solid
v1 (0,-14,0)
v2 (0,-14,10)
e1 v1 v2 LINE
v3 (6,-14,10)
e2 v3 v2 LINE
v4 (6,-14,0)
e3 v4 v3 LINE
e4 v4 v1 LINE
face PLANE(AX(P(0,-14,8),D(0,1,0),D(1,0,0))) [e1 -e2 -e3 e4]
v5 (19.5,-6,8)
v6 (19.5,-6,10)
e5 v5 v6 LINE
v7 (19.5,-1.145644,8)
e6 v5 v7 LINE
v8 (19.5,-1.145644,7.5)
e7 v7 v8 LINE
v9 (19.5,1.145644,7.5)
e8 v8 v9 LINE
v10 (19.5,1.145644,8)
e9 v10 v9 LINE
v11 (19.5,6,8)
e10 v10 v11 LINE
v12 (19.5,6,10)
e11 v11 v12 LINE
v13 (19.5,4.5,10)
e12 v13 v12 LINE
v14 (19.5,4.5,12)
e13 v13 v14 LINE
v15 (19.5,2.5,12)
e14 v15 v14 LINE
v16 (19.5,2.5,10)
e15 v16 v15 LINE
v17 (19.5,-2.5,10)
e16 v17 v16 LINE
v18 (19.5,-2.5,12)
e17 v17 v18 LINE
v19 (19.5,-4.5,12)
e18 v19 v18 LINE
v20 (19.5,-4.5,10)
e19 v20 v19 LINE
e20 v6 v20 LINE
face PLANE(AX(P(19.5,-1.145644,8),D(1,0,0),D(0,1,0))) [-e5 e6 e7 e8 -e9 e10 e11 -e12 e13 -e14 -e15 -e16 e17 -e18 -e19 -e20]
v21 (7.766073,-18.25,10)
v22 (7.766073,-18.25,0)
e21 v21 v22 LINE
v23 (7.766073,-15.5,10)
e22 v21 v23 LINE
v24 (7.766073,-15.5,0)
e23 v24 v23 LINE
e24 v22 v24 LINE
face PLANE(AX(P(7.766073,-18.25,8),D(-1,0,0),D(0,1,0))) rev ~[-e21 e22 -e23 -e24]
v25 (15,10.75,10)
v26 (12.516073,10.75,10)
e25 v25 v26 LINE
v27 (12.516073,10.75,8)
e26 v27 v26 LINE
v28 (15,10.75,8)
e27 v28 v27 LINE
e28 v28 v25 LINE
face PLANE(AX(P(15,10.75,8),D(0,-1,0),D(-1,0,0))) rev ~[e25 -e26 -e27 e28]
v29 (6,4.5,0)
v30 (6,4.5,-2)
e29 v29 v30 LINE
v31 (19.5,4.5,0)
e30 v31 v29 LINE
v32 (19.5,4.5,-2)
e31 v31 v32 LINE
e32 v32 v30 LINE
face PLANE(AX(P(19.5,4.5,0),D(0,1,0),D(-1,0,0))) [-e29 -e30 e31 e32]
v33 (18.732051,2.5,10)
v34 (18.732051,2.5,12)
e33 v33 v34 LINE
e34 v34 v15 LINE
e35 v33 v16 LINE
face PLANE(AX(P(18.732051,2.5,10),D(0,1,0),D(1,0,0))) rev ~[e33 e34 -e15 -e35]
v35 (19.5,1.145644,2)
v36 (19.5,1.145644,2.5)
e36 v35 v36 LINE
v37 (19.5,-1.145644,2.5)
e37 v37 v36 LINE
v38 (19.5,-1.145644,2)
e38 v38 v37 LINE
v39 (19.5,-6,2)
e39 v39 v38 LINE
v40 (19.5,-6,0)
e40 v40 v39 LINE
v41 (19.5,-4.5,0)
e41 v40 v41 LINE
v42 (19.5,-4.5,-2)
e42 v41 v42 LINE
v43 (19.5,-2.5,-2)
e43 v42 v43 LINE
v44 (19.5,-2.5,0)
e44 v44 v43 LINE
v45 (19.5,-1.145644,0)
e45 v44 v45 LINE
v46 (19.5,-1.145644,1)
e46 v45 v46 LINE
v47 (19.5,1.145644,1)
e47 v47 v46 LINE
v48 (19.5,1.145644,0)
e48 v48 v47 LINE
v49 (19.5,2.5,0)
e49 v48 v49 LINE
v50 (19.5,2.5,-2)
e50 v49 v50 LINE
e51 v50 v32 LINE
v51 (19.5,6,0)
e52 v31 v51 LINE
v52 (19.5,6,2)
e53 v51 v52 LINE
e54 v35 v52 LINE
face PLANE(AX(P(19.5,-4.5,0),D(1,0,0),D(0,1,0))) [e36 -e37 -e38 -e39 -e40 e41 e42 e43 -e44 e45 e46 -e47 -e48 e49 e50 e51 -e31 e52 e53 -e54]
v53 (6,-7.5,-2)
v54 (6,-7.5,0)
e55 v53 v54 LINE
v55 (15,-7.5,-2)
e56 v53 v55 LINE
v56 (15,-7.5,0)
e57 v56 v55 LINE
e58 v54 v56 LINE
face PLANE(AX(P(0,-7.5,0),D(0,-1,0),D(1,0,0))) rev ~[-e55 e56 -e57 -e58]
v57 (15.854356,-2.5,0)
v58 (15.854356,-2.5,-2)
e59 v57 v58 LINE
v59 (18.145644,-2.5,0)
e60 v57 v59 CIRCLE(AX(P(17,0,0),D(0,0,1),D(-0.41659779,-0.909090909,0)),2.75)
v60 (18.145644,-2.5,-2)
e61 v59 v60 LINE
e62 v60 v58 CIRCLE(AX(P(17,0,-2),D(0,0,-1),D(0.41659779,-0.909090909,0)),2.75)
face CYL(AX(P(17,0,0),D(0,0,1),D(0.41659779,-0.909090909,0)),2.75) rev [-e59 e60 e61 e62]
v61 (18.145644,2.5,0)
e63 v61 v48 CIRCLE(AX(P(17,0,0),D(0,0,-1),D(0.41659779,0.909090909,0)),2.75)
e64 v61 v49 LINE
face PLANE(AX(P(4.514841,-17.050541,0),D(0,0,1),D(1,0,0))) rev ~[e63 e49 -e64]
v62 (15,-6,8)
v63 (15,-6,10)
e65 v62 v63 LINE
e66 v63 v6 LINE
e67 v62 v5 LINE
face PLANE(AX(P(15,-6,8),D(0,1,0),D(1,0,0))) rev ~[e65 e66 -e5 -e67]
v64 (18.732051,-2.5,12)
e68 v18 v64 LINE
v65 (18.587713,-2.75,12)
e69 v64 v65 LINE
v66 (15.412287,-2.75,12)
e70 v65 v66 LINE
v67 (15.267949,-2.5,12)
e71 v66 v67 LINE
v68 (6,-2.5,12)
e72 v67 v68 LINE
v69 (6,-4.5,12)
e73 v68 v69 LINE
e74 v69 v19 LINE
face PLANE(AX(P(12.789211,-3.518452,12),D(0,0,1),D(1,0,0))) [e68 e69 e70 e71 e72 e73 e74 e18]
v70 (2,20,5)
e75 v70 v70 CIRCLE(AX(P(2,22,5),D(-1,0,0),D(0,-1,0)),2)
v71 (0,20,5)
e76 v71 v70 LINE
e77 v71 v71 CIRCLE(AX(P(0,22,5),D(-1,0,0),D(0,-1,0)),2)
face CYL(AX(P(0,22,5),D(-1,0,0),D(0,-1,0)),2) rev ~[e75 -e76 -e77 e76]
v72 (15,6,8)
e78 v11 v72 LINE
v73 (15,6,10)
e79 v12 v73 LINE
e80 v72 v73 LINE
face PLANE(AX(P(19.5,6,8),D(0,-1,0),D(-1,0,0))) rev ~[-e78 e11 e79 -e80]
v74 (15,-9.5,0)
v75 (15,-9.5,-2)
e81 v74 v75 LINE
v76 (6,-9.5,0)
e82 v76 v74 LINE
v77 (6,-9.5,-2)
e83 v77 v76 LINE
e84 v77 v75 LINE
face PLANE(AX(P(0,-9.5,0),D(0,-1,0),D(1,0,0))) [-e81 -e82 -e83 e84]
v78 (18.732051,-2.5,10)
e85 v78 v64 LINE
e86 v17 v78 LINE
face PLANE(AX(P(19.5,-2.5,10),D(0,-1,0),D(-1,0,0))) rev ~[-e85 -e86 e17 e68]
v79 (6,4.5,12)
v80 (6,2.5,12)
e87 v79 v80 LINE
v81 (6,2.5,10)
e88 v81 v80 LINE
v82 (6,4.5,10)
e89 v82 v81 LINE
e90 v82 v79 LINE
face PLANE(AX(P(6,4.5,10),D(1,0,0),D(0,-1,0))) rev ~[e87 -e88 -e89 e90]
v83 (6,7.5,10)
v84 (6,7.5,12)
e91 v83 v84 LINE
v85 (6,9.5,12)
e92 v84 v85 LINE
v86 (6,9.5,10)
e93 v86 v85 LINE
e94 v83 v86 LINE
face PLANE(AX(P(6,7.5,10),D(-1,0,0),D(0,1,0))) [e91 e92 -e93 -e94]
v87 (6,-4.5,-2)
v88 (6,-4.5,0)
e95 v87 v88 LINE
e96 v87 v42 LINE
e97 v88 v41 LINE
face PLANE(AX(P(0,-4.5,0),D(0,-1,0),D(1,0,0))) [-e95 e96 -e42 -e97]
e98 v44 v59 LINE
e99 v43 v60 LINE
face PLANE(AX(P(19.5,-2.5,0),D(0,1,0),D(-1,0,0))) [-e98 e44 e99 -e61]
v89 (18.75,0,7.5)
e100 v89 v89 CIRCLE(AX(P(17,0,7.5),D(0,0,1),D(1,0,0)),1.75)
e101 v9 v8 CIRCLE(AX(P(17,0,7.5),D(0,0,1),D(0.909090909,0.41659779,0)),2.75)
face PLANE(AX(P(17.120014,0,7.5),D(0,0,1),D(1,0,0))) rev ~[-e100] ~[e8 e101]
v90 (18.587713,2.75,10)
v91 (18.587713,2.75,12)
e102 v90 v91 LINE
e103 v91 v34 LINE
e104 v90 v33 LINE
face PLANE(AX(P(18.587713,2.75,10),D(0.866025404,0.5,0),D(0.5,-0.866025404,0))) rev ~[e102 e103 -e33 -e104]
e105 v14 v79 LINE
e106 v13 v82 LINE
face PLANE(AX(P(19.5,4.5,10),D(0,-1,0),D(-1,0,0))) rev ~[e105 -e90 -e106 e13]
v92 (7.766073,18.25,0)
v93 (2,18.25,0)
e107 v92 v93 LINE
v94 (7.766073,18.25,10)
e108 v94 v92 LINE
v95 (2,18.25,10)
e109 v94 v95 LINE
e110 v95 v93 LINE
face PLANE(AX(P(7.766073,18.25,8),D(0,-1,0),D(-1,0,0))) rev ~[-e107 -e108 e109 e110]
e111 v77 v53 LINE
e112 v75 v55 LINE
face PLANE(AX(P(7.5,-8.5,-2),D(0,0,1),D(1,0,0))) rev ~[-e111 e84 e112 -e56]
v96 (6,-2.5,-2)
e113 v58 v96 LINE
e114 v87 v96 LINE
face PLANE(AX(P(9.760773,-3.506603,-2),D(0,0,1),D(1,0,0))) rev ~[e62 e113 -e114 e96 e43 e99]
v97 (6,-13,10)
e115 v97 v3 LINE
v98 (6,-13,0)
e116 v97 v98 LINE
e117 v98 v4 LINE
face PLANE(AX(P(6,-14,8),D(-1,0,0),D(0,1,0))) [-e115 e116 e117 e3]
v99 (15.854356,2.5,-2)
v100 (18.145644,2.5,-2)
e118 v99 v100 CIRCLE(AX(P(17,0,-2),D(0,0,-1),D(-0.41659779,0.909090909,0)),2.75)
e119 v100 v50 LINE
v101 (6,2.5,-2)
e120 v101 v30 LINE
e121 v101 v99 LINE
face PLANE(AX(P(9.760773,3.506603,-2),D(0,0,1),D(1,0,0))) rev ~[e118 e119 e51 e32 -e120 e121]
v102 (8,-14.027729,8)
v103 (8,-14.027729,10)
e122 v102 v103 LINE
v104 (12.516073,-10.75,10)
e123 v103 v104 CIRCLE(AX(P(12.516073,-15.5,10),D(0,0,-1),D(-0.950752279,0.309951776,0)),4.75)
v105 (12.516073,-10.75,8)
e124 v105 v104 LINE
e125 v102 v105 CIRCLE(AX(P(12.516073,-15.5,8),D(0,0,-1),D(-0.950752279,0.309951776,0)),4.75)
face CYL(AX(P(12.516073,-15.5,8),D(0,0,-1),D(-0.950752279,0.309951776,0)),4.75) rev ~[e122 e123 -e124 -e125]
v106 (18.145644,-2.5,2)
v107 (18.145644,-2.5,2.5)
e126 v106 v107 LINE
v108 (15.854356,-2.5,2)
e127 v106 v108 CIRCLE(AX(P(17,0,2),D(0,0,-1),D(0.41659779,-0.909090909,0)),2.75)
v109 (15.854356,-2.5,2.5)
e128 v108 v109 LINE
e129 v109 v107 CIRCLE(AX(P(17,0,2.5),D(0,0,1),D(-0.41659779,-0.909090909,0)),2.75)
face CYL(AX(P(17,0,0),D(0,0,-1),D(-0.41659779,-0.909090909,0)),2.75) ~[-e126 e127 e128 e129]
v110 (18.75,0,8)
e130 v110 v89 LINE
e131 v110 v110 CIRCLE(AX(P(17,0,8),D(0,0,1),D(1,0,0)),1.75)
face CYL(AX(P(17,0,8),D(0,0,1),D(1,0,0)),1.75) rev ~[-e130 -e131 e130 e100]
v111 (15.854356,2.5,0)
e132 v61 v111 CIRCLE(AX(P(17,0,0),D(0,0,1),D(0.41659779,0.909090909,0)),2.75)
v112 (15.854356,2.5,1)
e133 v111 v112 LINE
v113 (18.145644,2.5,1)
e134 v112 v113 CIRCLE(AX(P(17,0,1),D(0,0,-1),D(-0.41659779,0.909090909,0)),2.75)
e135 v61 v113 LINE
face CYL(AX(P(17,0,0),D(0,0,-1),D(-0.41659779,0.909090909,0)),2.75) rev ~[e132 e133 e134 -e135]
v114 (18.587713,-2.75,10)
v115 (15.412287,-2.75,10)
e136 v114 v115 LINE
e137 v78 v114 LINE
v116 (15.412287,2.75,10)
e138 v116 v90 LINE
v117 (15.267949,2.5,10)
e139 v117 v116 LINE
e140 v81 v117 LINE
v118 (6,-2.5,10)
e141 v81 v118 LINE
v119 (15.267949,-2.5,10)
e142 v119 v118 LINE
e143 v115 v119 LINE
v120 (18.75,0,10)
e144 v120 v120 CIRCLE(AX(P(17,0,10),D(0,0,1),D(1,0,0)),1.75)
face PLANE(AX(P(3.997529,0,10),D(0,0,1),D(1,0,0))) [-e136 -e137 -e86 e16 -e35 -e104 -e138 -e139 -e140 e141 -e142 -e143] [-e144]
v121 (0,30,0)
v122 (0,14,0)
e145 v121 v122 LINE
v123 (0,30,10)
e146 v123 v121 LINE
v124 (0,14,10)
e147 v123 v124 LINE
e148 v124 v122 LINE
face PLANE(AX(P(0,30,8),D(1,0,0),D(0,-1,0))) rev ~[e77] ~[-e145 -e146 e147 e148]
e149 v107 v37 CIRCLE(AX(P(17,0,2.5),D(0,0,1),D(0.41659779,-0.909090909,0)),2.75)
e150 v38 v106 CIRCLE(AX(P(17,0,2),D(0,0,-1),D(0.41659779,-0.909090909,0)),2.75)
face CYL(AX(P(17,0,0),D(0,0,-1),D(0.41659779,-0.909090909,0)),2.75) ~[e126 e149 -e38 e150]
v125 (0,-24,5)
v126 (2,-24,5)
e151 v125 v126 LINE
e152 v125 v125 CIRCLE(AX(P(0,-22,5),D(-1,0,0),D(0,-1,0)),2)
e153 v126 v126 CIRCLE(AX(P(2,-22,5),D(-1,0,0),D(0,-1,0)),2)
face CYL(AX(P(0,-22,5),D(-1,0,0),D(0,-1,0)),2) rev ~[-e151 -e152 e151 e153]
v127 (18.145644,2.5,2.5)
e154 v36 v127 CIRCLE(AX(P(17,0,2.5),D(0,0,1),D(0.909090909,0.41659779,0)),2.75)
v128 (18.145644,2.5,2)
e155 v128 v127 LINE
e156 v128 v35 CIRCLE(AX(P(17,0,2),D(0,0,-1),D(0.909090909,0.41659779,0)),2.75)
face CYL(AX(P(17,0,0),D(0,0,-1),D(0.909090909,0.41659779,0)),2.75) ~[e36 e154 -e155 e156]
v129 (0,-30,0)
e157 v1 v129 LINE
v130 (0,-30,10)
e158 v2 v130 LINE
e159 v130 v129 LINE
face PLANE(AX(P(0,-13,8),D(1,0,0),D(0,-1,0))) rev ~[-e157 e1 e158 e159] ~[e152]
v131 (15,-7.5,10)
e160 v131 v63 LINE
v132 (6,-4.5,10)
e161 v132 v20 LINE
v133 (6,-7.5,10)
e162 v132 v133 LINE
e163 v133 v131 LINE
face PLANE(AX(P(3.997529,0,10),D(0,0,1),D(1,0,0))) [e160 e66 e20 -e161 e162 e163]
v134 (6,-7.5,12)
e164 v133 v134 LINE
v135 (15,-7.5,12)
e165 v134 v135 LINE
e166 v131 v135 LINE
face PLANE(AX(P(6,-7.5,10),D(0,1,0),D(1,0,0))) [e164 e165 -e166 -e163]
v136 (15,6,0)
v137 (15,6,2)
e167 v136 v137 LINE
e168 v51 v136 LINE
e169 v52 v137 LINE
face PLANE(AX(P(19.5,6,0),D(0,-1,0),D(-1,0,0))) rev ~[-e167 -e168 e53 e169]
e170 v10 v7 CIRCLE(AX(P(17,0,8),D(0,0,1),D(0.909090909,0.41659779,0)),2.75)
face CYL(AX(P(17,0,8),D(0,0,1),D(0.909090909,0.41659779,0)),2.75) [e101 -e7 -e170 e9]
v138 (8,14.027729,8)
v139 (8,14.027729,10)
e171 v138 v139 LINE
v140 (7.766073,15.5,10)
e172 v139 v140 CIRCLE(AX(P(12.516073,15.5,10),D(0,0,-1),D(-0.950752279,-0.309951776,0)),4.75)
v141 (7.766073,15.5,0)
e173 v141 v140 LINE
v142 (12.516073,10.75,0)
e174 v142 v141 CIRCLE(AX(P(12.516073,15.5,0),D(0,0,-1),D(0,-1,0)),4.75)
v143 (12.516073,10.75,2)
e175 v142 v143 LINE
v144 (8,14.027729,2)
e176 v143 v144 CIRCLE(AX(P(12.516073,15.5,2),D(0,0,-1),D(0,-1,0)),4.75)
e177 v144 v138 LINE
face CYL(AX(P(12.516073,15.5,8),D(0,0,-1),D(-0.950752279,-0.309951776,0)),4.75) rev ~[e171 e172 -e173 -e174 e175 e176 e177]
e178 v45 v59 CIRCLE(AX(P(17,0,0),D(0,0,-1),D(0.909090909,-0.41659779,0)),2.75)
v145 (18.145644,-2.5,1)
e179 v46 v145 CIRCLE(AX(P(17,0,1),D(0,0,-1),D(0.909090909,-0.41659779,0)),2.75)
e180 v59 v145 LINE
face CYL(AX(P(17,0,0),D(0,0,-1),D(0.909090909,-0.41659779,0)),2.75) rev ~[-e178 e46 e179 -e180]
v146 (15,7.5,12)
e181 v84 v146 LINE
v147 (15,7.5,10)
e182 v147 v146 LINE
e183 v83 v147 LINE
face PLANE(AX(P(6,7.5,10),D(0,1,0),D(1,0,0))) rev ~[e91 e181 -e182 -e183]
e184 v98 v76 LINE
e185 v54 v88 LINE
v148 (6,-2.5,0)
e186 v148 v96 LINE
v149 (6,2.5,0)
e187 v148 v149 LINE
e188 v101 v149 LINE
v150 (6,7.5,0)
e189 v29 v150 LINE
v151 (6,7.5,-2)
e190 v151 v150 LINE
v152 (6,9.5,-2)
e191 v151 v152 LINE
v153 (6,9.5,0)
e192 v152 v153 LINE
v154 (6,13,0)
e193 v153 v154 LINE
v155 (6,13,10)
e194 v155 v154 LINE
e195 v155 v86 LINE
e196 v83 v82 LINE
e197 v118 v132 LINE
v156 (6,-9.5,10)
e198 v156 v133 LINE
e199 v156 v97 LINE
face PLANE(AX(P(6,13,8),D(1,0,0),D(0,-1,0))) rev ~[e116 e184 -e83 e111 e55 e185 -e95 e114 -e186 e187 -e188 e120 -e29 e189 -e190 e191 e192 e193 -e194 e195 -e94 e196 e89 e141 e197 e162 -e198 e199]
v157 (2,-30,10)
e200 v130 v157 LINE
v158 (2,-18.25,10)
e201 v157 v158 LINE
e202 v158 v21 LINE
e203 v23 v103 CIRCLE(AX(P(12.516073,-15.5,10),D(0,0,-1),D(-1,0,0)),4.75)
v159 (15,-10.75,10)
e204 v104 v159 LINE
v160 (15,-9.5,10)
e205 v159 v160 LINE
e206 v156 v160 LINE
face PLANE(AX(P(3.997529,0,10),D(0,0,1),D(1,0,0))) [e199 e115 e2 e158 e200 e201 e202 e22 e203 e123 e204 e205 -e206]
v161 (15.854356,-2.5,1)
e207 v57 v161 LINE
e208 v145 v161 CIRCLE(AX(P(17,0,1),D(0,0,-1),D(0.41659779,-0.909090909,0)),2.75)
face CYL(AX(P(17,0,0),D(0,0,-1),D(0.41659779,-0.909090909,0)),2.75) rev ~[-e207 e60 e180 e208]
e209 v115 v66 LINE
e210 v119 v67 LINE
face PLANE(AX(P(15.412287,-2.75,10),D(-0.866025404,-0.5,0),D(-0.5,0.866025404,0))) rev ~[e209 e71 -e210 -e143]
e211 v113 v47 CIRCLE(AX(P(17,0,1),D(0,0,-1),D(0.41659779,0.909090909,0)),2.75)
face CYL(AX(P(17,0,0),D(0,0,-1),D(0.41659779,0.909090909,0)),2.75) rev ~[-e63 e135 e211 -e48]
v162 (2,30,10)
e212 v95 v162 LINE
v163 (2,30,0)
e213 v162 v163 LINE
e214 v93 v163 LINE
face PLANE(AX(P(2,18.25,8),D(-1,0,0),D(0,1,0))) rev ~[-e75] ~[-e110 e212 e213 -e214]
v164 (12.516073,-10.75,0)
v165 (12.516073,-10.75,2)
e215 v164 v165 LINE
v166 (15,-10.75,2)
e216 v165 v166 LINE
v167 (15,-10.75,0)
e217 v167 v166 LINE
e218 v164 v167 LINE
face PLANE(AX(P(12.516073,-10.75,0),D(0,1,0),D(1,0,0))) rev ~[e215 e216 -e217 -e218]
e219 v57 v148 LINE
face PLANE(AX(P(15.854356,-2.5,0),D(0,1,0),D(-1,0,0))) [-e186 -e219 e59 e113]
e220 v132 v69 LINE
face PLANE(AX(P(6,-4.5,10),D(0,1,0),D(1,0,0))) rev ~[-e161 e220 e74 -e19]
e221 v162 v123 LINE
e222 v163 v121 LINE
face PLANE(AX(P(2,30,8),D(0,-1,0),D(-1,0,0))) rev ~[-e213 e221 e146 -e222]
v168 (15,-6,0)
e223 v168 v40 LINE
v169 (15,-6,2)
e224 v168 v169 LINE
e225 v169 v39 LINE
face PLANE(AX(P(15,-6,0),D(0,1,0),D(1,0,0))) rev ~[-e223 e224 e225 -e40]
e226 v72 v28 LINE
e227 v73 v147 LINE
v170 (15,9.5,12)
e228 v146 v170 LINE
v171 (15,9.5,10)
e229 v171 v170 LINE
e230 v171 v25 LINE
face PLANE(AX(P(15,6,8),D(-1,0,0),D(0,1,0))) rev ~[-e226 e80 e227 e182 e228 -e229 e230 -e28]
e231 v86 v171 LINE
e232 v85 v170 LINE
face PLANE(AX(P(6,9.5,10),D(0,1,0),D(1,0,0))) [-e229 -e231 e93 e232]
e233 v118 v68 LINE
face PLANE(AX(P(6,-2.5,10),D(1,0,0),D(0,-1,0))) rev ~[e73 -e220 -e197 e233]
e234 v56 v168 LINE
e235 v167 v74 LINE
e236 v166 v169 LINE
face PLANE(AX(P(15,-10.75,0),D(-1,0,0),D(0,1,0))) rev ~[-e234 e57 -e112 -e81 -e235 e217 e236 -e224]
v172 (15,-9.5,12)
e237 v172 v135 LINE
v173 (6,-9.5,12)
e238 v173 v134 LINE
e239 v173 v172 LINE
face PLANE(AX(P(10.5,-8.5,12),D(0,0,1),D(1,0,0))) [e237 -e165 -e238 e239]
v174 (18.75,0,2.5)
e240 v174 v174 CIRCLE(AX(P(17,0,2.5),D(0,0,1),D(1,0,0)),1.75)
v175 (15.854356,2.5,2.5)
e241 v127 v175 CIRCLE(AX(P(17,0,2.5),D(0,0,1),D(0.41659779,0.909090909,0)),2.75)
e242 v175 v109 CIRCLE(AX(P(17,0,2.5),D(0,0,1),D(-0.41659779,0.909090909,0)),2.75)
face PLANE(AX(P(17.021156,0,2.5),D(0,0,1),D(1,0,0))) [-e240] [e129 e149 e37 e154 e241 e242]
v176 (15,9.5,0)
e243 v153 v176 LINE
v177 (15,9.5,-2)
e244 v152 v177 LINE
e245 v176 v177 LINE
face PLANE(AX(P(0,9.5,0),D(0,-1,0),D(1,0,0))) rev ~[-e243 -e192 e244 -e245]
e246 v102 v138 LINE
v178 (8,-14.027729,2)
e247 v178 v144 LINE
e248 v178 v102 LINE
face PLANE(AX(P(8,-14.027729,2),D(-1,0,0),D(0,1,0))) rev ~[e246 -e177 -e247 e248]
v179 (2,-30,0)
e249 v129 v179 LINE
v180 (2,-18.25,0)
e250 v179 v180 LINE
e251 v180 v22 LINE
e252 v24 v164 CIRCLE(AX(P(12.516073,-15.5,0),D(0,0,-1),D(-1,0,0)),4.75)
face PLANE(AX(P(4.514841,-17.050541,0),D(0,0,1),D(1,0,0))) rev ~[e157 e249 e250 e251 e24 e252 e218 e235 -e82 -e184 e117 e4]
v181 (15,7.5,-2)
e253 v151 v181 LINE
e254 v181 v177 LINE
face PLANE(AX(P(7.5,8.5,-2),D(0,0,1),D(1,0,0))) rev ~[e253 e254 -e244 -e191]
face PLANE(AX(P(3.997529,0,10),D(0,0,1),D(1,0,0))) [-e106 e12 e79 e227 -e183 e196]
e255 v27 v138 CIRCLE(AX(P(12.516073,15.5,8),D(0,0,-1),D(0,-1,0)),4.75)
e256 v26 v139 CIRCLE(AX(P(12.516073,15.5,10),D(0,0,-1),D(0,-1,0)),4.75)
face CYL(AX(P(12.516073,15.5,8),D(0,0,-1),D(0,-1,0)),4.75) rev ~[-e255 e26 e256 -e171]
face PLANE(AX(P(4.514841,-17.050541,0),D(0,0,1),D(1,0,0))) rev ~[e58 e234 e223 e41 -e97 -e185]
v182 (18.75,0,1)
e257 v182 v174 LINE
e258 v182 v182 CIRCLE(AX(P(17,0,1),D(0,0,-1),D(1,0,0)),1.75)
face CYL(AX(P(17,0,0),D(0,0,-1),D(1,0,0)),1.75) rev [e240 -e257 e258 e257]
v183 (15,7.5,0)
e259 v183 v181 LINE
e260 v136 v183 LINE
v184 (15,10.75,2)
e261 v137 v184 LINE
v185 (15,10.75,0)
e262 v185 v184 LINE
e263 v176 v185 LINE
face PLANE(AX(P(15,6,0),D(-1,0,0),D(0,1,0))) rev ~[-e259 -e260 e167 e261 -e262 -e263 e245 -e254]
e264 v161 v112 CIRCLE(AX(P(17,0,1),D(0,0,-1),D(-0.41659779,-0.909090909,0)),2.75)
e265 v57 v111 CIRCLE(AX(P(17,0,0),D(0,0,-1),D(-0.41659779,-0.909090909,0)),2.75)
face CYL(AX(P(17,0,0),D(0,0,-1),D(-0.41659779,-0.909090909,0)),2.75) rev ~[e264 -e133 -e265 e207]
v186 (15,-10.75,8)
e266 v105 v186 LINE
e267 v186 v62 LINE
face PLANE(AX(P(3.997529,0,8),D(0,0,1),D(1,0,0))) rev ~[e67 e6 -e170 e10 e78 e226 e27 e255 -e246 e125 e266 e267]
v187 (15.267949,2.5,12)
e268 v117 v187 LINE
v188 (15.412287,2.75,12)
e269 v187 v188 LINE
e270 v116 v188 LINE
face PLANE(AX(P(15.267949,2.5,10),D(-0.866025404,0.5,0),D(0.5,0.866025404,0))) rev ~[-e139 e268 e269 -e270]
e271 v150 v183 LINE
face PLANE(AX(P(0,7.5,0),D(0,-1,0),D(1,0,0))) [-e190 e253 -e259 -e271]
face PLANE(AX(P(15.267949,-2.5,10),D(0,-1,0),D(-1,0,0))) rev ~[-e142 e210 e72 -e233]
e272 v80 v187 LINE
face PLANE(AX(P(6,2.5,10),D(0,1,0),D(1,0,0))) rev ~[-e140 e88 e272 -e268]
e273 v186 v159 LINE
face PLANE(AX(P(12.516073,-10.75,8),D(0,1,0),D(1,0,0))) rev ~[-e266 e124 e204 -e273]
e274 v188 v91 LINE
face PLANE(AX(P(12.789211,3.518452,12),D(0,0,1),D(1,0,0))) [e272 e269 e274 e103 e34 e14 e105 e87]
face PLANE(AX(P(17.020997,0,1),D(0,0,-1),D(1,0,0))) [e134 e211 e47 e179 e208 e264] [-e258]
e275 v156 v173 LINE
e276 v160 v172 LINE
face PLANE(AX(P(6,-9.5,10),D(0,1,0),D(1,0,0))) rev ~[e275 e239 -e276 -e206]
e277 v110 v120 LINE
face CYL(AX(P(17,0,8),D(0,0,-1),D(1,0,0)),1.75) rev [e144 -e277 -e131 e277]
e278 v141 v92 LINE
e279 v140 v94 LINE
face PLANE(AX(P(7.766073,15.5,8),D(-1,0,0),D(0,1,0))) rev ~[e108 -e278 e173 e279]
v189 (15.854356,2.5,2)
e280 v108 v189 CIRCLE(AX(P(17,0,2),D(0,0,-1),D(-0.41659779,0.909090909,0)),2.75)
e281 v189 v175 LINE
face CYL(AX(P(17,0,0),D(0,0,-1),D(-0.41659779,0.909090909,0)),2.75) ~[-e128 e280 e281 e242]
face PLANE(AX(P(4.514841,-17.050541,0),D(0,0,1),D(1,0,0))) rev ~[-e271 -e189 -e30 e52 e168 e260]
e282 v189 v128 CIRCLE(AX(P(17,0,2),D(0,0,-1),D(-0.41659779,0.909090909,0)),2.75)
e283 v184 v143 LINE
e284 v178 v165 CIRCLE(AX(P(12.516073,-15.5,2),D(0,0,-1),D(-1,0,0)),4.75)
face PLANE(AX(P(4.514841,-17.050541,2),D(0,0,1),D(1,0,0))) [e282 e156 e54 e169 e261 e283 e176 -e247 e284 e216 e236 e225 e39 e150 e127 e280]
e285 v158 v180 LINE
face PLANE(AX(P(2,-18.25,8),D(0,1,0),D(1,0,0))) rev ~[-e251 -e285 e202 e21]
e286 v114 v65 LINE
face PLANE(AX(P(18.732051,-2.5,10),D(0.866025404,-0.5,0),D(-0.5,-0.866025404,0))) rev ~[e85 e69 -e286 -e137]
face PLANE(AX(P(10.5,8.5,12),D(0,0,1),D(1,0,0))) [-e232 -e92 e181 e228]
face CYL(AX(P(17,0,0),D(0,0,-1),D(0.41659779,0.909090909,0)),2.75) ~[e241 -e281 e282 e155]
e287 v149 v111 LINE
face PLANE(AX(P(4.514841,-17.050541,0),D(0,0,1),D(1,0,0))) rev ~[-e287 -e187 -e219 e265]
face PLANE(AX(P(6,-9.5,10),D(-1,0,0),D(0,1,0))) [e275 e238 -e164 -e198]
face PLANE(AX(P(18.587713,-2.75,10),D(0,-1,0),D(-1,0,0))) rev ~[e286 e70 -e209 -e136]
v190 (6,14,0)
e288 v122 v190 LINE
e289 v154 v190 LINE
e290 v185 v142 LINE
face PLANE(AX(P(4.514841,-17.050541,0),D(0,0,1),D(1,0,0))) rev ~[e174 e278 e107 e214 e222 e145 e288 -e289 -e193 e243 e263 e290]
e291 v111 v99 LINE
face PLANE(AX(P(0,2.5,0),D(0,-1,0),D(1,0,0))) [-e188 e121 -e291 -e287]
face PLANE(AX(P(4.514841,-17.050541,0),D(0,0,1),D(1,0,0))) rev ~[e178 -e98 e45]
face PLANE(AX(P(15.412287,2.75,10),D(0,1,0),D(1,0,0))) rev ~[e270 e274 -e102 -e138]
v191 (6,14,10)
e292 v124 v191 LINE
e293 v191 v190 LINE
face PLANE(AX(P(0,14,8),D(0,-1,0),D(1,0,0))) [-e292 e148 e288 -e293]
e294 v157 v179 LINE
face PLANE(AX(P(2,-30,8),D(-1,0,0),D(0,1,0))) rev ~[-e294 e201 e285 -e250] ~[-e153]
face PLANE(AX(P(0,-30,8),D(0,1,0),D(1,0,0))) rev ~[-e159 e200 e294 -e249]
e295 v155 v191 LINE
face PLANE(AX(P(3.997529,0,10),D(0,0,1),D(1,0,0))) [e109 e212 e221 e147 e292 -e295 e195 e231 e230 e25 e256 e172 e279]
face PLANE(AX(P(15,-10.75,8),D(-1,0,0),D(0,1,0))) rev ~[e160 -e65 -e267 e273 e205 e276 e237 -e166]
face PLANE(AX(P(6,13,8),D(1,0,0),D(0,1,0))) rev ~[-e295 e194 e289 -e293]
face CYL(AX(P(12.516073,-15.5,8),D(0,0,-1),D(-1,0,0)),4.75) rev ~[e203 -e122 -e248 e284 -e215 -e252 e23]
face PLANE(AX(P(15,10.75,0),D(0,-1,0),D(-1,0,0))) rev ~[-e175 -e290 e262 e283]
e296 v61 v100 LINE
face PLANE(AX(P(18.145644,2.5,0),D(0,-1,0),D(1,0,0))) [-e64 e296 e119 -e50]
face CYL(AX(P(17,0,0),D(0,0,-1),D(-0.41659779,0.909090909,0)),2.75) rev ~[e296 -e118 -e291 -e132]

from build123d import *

# Parameters (mm, degrees)
F0_W      = 15
F0_H      = 2
F0_R      = 1.75
F1_DEPTH  = 2
F2_DEPTH  = 2
F3_DEPTH  = 2.5
F4_W      = 6
F4_H      = 26
F5_DEPTH  = 7
F6_DEPTH  = 6
F7_R      = 1.75
F8_DEPTH  = 2
F9_DEPTH  = 0.5
F10_W     = 9
F10_H     = 2
F11_DEPTH = 2
F12_R     = 2
F13_DEPTH = 25
F14_R     = 1.75
F15_DEPTH = 1
F16_W     = 6
F16_H     = 1
F17_DEPTH = 15


with BuildPart() as f1:
    # F0 (on Top) → F1 (new body)
    with BuildSketch(Plane.XY):
        with BuildLine():
            Line((15, -9.5), (0, -9.5))
            Line((0, -9.5), (0, -30))
            Line((0, -30), (2, -30))
            Line((2, -30), (2, -18.25))
            Line((2, -18.25), (7.7660733269, -18.25))
            Line((7.7660733269, -18.25), (7.7660733269, -15.5))
            ThreePointArc((7.7660733269, -15.5), (9.1573161163, -12.1412427894), (12.5160733269, -10.75))
            Line((12.5160733269, -10.75), (15, -10.75))
            Line((15, -10.75), (15, -9.5))
        make_face()
        with BuildLine():
            Line((0, 30), (0, 9.5))
            Line((0, 9.5), (15, 9.5))
            Line((15, 9.5), (15, 10.75))
            Line((15, 10.75), (12.5160733269, 10.75))
            ThreePointArc((12.5160733269, 10.75), (9.1573161163, 12.1412427894), (7.7660733269, 15.5))
            Line((7.7660733269, 15.5), (7.7660733269, 18.25))
            Line((7.7660733269, 18.25), (2, 18.25))
            Line((2, 18.25), (2, 30))
            Line((2, 30), (0, 30))
        make_face()
        Polygon((19.5, -5.8877859777), (19.5, -4.617), (19.5, -4.5), (0, -4.5), (0, -7.5), (15, -7.5), (15, -7), (15, -6), (19.5, -6), align=None)
        with BuildLine():
            Line((18.1456439237, -2.5), (19.5, -2.5))
            Line((19.5, -2.5), (19.5, -1.1456439237))
            ThreePointArc((19.5, -1.1456439237), (18.9445436483, -1.9445436483), (18.1456439237, -2.5))
        make_face()
        with Locations((7.5, -8.5)):
            Rectangle(F0_W, F0_H)
        with Locations((7.5, 8.5)):
            Rectangle(F0_W, F0_H)
        Polygon((0, 7.5), (0, 4.5), (19.5, 4.5), (19.5, 4.617), (19.5, 5.8877859777), (19.5, 6), (15, 6), (15, 7), (15, 7.5), align=None)
        with BuildLine():
            ThreePointArc((18.1456439237, 2.5), (18.9445436483, 1.9445436483), (19.5, 1.1456439237))
            Line((19.5, 1.1456439237), (19.5, 2.5))
            Line((19.5, 2.5), (18.1456439237, 2.5))
        make_face()
        with BuildLine():
            Line((0, 0), (0, -2.5))
            Line((0, -2.5), (15.8543560763, -2.5))
            ThreePointArc((15.8543560763, -2.5), (14.25, 0), (15.8543560763, 2.5))
            Line((15.8543560763, 2.5), (0, 2.5))
            Line((0, 2.5), (0, 0))
        make_face()
        with BuildLine():
            Line((0, -4.5), (19.5, -4.5))
            Line((19.5, -4.5), (19.5, -2.5))
            Line((19.5, -2.5), (18.1456439237, -2.5))
            ThreePointArc((18.1456439237, -2.5), (17, -2.75), (15.8543560763, -2.5))
            Line((15.8543560763, -2.5), (0, -2.5))
            Line((0, -2.5), (0, -4.5))
        make_face()
        with BuildLine():
            Line((0, 2.5), (15.8543560763, 2.5))
            ThreePointArc((15.8543560763, 2.5), (17, 2.75), (18.1456439237, 2.5))
            Line((18.1456439237, 2.5), (19.5, 2.5))
            Line((19.5, 2.5), (19.5, 4.5))
            Line((19.5, 4.5), (0, 4.5))
            Line((0, 4.5), (0, 2.5))
        make_face()
        with BuildLine():
            ThreePointArc((18.1456439237, -2.5), (18.9445436483, -1.9445436483), (19.5, -1.1456439237))
            Line((19.5, -1.1456439237), (19.5, 0.8877859777))
            Line((19.5, 0.8877859777), (19.5, 1.1456439237))
            ThreePointArc((19.5, 1.1456439237), (18.9445436483, 1.9445436483), (18.1456439237, 2.5))
            Line((18.1456439237, 2.5), (15.8543560763, 2.5))
            ThreePointArc((15.8543560763, 2.5), (14.25, 0), (15.8543560763, -2.5))
            Line((15.8543560763, -2.5), (18.1456439237, -2.5))
        make_face()
        with Locations((17, 0)):
            Circle(F0_R, mode=Mode.SUBTRACT)
    extrude(amount=F1_DEPTH)

    # F0 (on Top) → F2 (join)
    with BuildSketch(Plane.XY):
        with Locations((7.5, -8.5)):
            Rectangle(F0_W, F0_H)
        with BuildLine():
            Line((0, -4.5), (19.5, -4.5))
            Line((19.5, -4.5), (19.5, -2.5))
            Line((19.5, -2.5), (18.1456439237, -2.5))
            ThreePointArc((18.1456439237, -2.5), (17, -2.75), (15.8543560763, -2.5))
            Line((15.8543560763, -2.5), (0, -2.5))
            Line((0, -2.5), (0, -4.5))
        make_face()
        with BuildLine():
            Line((0, 2.5), (15.8543560763, 2.5))
            ThreePointArc((15.8543560763, 2.5), (17, 2.75), (18.1456439237, 2.5))
            Line((18.1456439237, 2.5), (19.5, 2.5))
            Line((19.5, 2.5), (19.5, 4.5))
            Line((19.5, 4.5), (0, 4.5))
            Line((0, 4.5), (0, 2.5))
        make_face()
        with Locations((7.5, 8.5)):
            Rectangle(F0_W, F0_H)
    extrude(amount=-F2_DEPTH)

    # F0 (on Top) → F3 (join)
    with BuildSketch(Plane.XY):
        with BuildLine():
            ThreePointArc((18.1456439237, -2.5), (18.9445436483, -1.9445436483), (19.5, -1.1456439237))
            Line((19.5, -1.1456439237), (19.5, 0.8877859777))
            Line((19.5, 0.8877859777), (19.5, 1.1456439237))
            ThreePointArc((19.5, 1.1456439237), (18.9445436483, 1.9445436483), (18.1456439237, 2.5))
            Line((18.1456439237, 2.5), (15.8543560763, 2.5))
            ThreePointArc((15.8543560763, 2.5), (14.25, 0), (15.8543560763, -2.5))
            Line((15.8543560763, -2.5), (18.1456439237, -2.5))
        make_face()
        with Locations((17, 0)):
            Circle(F0_R, mode=Mode.SUBTRACT)
        with BuildLine():
            ThreePointArc((15.8543560763, -2.5), (17, -2.75), (18.1456439237, -2.5))
            Line((18.1456439237, -2.5), (15.8543560763, -2.5))
        make_face()
        with BuildLine():
            ThreePointArc((18.1456439237, 2.5), (17, 2.75), (15.8543560763, 2.5))
            Line((15.8543560763, 2.5), (18.1456439237, 2.5))
        make_face()
    extrude(amount=F3_DEPTH)

    # F4 (on face) → F5 (cut)
    with BuildSketch(Plane.XY.offset(2)):
        with Locations((3, 0)):
            Rectangle(F4_W, F4_H)
    extrude(amount=-F5_DEPTH, mode=Mode.SUBTRACT)

    # F4 (on face) → F6 (join)
    with BuildSketch(Plane.XY.offset(2)):
        with BuildLine():
            Line((8, -7.5), (8, -4.5))
            Line((8, -4.5), (8, -2.5))
            Line((8, -2.5), (8, 2.5))
            Line((8, 2.5), (8, 4.5))
            Line((8, 4.5), (8, 7.5))
            Line((8, 7.5), (8, 9.5))
            Line((8, 9.5), (8, 14.0277290651))
            ThreePointArc((8, 14.0277290651), (7.8249195082, 14.7546303947), (7.7660733269, 15.5))
            Line((7.7660733269, 15.5), (7.7660733269, 18.25))
            Line((7.7660733269, 18.25), (2, 18.25))
            Line((2, 18.25), (2, 30))
            Line((2, 30), (0, 30))
            Line((0, 30), (0, 13))
            Line((0, 13), (6, 13))
            Line((6, 13), (6, -13))
            Line((6, -13), (0, -13))
            Line((0, -13), (0, -30))
            Line((0, -30), (2, -30))
            Line((2, -30), (2, -18.25))
            Line((2, -18.25), (7.7660733269, -18.25))
            Line((7.7660733269, -18.25), (7.7660733269, -15.5))
            ThreePointArc((7.7660733269, -15.5), (7.8249195082, -14.7546303947), (8, -14.0277290651))
            Line((8, -14.0277290651), (8, -9.5))
            Line((8, -9.5), (8, -7.5))
        make_face()
    extrude(amount=F6_DEPTH)

    # F7 (on face) → F8 (join)
    with BuildSketch(Plane.XY.offset(8)):
        with BuildLine():
            ThreePointArc((7.7660733269, -15.5), (7.8249195082, -14.7546303947), (8, -14.0277290651))
            Line((8, -14.0277290651), (8, 14.0277290651))
            ThreePointArc((8, 14.0277290651), (7.8249195082, 14.7546303947), (7.7660733269, 15.5))
            Line((7.7660733269, 15.5), (7.7660733269, 18.25))
            Line((7.7660733269, 18.25), (2, 18.25))
            Line((2, 18.25), (2, 30))
            Line((2, 30), (0, 30))
            Line((0, 30), (0, 13))
            Line((0, 13), (6, 13))
            Line((6, 13), (6, -13))
            Line((6, -13), (0, -13))
            Line((0, -13), (0, -30))
            Line((0, -30), (2, -30))
            Line((2, -30), (2, -18.25))
            Line((2, -18.25), (7.7660733269, -18.25))
            Line((7.7660733269, -18.25), (7.7660733269, -15.5))
        make_face()
        with BuildLine():
            Line((19.5, -5.8877859777), (19.5, -4.617))
            Line((19.5, -4.617), (19.5, -1.1456439237))
            ThreePointArc((19.5, -1.1456439237), (14.25, 0), (19.5, 1.1456439237))
            Line((19.5, 1.1456439237), (19.5, 4.617))
            Line((19.5, 4.617), (19.5, 5.8877859777))
            Line((19.5, 5.8877859777), (19.5, 6))
            Line((19.5, 6), (15, 6))
            Line((15, 6), (15, 7))
            Line((15, 7), (15, 10.75))
            Line((15, 10.75), (12.5160733269, 10.75))
            ThreePointArc((12.5160733269, 10.75), (9.7259825525, 11.6557974207), (8, 14.0277290651))
            Line((8, 14.0277290651), (8, -14.0277290651))
            ThreePointArc((8, -14.0277290651), (9.7259825525, -11.6557974207), (12.5160733269, -10.75))
            Line((12.5160733269, -10.75), (15, -10.75))
            Line((15, -10.75), (15, -7))
            Line((15, -7), (15, -6))
            Line((15, -6), (19.5, -6))
            Line((19.5, -6), (19.5, -5.8877859777))
        make_face()
        with BuildLine():
            ThreePointArc((19.5, 1.1456439237), (14.25, 0), (19.5, -1.1456439237))
            Line((19.5, -1.1456439237), (19.5, 0.8877859777))
            Line((19.5, 0.8877859777), (19.5, 1.1456439237))
        make_face()
        with Locations((17, 0)):
            Circle(F7_R, mode=Mode.SUBTRACT)
    extrude(amount=F8_DEPTH)

    # F7 (on face) → F9 (join)
    with BuildSketch(Plane.XY.offset(8)):
        with BuildLine():
            ThreePointArc((19.5, 1.1456439237), (14.25, 0), (19.5, -1.1456439237))
            Line((19.5, -1.1456439237), (19.5, 0.8877859777))
            Line((19.5, 0.8877859777), (19.5, 1.1456439237))
        make_face()
        with Locations((17, 0)):
            Circle(F7_R, mode=Mode.SUBTRACT)
    extrude(amount=-F9_DEPTH)

    # F10 (on face) → F11 (join)
    with BuildSketch(Plane.XY.offset(10)):
        with Locations((10.5, 8.5)):
            Rectangle(F10_W, F10_H)
        Polygon((6, 4.5), (6, 2.5), (15.2679491924, 2.5), (15.4122867597, 2.75), (18.5877132403, 2.75), (18.7320508076, 2.5), (19.5, 2.5), (19.5, 4.5), align=None)
        Polygon((6, -4.5), (19.5, -4.5), (19.5, -2.5), (18.7320508076, -2.5), (18.5877132403, -2.75), (15.4122867597, -2.75), (15.2679491924, -2.5), (6, -2.5), align=None)
        with Locations((10.5, -8.5)):
            Rectangle(F10_W, F10_H)
    extrude(amount=F11_DEPTH)

    # F12 (on face) → F13 (cut)
    with BuildSketch(Plane(origin=(0, 0, 0), x_dir=(0, -1, 0), z_dir=(-1, 0, 0))):
        with Locations((-22, 5)):
            Circle(F12_R)
        with Locations((22, 5)):
            Circle(F12_R)
    extrude(amount=-F13_DEPTH, mode=Mode.SUBTRACT)

    # F14 (on face) → F15 (cut)
    with BuildSketch(Plane(origin=(0, 0, 0), x_dir=(1, 0, 0), z_dir=(0, 0, -1))):
        with BuildLine():
            ThreePointArc((19.5, 1.1456439237), (18.9445436483, 1.9445436483), (18.1456439237, 2.5))
            ThreePointArc((18.1456439237, 2.5), (17, 2.75), (15.8543560763, 2.5))
            ThreePointArc((15.8543560763, 2.5), (14.25, 0), (15.8543560763, -2.5))
            ThreePointArc((15.8543560763, -2.5), (17, -2.75), (18.1456439237, -2.5))
            ThreePointArc((18.1456439237, -2.5), (18.9445436483, -1.9445436483), (19.5, -1.1456439237))
            Line((19.5, -1.1456439237), (19.5, 1.1456439237))
        make_face()
        with Locations((17, 0)):
            Circle(F14_R, mode=Mode.SUBTRACT)
    extrude(amount=-F15_DEPTH, mode=Mode.SUBTRACT)

    # F16 (on face) → F17 (cut, symmetric)
    with BuildSketch(Plane.XY.offset(8)):
        with Locations((3, -13.5)):
            Rectangle(F16_W, F16_H)
        with Locations((3, 13.5)):
            Rectangle(F16_W, F16_H)
    extrude(amount=F17_DEPTH, both=True, mode=Mode.SUBTRACT)


solid = f1.part
